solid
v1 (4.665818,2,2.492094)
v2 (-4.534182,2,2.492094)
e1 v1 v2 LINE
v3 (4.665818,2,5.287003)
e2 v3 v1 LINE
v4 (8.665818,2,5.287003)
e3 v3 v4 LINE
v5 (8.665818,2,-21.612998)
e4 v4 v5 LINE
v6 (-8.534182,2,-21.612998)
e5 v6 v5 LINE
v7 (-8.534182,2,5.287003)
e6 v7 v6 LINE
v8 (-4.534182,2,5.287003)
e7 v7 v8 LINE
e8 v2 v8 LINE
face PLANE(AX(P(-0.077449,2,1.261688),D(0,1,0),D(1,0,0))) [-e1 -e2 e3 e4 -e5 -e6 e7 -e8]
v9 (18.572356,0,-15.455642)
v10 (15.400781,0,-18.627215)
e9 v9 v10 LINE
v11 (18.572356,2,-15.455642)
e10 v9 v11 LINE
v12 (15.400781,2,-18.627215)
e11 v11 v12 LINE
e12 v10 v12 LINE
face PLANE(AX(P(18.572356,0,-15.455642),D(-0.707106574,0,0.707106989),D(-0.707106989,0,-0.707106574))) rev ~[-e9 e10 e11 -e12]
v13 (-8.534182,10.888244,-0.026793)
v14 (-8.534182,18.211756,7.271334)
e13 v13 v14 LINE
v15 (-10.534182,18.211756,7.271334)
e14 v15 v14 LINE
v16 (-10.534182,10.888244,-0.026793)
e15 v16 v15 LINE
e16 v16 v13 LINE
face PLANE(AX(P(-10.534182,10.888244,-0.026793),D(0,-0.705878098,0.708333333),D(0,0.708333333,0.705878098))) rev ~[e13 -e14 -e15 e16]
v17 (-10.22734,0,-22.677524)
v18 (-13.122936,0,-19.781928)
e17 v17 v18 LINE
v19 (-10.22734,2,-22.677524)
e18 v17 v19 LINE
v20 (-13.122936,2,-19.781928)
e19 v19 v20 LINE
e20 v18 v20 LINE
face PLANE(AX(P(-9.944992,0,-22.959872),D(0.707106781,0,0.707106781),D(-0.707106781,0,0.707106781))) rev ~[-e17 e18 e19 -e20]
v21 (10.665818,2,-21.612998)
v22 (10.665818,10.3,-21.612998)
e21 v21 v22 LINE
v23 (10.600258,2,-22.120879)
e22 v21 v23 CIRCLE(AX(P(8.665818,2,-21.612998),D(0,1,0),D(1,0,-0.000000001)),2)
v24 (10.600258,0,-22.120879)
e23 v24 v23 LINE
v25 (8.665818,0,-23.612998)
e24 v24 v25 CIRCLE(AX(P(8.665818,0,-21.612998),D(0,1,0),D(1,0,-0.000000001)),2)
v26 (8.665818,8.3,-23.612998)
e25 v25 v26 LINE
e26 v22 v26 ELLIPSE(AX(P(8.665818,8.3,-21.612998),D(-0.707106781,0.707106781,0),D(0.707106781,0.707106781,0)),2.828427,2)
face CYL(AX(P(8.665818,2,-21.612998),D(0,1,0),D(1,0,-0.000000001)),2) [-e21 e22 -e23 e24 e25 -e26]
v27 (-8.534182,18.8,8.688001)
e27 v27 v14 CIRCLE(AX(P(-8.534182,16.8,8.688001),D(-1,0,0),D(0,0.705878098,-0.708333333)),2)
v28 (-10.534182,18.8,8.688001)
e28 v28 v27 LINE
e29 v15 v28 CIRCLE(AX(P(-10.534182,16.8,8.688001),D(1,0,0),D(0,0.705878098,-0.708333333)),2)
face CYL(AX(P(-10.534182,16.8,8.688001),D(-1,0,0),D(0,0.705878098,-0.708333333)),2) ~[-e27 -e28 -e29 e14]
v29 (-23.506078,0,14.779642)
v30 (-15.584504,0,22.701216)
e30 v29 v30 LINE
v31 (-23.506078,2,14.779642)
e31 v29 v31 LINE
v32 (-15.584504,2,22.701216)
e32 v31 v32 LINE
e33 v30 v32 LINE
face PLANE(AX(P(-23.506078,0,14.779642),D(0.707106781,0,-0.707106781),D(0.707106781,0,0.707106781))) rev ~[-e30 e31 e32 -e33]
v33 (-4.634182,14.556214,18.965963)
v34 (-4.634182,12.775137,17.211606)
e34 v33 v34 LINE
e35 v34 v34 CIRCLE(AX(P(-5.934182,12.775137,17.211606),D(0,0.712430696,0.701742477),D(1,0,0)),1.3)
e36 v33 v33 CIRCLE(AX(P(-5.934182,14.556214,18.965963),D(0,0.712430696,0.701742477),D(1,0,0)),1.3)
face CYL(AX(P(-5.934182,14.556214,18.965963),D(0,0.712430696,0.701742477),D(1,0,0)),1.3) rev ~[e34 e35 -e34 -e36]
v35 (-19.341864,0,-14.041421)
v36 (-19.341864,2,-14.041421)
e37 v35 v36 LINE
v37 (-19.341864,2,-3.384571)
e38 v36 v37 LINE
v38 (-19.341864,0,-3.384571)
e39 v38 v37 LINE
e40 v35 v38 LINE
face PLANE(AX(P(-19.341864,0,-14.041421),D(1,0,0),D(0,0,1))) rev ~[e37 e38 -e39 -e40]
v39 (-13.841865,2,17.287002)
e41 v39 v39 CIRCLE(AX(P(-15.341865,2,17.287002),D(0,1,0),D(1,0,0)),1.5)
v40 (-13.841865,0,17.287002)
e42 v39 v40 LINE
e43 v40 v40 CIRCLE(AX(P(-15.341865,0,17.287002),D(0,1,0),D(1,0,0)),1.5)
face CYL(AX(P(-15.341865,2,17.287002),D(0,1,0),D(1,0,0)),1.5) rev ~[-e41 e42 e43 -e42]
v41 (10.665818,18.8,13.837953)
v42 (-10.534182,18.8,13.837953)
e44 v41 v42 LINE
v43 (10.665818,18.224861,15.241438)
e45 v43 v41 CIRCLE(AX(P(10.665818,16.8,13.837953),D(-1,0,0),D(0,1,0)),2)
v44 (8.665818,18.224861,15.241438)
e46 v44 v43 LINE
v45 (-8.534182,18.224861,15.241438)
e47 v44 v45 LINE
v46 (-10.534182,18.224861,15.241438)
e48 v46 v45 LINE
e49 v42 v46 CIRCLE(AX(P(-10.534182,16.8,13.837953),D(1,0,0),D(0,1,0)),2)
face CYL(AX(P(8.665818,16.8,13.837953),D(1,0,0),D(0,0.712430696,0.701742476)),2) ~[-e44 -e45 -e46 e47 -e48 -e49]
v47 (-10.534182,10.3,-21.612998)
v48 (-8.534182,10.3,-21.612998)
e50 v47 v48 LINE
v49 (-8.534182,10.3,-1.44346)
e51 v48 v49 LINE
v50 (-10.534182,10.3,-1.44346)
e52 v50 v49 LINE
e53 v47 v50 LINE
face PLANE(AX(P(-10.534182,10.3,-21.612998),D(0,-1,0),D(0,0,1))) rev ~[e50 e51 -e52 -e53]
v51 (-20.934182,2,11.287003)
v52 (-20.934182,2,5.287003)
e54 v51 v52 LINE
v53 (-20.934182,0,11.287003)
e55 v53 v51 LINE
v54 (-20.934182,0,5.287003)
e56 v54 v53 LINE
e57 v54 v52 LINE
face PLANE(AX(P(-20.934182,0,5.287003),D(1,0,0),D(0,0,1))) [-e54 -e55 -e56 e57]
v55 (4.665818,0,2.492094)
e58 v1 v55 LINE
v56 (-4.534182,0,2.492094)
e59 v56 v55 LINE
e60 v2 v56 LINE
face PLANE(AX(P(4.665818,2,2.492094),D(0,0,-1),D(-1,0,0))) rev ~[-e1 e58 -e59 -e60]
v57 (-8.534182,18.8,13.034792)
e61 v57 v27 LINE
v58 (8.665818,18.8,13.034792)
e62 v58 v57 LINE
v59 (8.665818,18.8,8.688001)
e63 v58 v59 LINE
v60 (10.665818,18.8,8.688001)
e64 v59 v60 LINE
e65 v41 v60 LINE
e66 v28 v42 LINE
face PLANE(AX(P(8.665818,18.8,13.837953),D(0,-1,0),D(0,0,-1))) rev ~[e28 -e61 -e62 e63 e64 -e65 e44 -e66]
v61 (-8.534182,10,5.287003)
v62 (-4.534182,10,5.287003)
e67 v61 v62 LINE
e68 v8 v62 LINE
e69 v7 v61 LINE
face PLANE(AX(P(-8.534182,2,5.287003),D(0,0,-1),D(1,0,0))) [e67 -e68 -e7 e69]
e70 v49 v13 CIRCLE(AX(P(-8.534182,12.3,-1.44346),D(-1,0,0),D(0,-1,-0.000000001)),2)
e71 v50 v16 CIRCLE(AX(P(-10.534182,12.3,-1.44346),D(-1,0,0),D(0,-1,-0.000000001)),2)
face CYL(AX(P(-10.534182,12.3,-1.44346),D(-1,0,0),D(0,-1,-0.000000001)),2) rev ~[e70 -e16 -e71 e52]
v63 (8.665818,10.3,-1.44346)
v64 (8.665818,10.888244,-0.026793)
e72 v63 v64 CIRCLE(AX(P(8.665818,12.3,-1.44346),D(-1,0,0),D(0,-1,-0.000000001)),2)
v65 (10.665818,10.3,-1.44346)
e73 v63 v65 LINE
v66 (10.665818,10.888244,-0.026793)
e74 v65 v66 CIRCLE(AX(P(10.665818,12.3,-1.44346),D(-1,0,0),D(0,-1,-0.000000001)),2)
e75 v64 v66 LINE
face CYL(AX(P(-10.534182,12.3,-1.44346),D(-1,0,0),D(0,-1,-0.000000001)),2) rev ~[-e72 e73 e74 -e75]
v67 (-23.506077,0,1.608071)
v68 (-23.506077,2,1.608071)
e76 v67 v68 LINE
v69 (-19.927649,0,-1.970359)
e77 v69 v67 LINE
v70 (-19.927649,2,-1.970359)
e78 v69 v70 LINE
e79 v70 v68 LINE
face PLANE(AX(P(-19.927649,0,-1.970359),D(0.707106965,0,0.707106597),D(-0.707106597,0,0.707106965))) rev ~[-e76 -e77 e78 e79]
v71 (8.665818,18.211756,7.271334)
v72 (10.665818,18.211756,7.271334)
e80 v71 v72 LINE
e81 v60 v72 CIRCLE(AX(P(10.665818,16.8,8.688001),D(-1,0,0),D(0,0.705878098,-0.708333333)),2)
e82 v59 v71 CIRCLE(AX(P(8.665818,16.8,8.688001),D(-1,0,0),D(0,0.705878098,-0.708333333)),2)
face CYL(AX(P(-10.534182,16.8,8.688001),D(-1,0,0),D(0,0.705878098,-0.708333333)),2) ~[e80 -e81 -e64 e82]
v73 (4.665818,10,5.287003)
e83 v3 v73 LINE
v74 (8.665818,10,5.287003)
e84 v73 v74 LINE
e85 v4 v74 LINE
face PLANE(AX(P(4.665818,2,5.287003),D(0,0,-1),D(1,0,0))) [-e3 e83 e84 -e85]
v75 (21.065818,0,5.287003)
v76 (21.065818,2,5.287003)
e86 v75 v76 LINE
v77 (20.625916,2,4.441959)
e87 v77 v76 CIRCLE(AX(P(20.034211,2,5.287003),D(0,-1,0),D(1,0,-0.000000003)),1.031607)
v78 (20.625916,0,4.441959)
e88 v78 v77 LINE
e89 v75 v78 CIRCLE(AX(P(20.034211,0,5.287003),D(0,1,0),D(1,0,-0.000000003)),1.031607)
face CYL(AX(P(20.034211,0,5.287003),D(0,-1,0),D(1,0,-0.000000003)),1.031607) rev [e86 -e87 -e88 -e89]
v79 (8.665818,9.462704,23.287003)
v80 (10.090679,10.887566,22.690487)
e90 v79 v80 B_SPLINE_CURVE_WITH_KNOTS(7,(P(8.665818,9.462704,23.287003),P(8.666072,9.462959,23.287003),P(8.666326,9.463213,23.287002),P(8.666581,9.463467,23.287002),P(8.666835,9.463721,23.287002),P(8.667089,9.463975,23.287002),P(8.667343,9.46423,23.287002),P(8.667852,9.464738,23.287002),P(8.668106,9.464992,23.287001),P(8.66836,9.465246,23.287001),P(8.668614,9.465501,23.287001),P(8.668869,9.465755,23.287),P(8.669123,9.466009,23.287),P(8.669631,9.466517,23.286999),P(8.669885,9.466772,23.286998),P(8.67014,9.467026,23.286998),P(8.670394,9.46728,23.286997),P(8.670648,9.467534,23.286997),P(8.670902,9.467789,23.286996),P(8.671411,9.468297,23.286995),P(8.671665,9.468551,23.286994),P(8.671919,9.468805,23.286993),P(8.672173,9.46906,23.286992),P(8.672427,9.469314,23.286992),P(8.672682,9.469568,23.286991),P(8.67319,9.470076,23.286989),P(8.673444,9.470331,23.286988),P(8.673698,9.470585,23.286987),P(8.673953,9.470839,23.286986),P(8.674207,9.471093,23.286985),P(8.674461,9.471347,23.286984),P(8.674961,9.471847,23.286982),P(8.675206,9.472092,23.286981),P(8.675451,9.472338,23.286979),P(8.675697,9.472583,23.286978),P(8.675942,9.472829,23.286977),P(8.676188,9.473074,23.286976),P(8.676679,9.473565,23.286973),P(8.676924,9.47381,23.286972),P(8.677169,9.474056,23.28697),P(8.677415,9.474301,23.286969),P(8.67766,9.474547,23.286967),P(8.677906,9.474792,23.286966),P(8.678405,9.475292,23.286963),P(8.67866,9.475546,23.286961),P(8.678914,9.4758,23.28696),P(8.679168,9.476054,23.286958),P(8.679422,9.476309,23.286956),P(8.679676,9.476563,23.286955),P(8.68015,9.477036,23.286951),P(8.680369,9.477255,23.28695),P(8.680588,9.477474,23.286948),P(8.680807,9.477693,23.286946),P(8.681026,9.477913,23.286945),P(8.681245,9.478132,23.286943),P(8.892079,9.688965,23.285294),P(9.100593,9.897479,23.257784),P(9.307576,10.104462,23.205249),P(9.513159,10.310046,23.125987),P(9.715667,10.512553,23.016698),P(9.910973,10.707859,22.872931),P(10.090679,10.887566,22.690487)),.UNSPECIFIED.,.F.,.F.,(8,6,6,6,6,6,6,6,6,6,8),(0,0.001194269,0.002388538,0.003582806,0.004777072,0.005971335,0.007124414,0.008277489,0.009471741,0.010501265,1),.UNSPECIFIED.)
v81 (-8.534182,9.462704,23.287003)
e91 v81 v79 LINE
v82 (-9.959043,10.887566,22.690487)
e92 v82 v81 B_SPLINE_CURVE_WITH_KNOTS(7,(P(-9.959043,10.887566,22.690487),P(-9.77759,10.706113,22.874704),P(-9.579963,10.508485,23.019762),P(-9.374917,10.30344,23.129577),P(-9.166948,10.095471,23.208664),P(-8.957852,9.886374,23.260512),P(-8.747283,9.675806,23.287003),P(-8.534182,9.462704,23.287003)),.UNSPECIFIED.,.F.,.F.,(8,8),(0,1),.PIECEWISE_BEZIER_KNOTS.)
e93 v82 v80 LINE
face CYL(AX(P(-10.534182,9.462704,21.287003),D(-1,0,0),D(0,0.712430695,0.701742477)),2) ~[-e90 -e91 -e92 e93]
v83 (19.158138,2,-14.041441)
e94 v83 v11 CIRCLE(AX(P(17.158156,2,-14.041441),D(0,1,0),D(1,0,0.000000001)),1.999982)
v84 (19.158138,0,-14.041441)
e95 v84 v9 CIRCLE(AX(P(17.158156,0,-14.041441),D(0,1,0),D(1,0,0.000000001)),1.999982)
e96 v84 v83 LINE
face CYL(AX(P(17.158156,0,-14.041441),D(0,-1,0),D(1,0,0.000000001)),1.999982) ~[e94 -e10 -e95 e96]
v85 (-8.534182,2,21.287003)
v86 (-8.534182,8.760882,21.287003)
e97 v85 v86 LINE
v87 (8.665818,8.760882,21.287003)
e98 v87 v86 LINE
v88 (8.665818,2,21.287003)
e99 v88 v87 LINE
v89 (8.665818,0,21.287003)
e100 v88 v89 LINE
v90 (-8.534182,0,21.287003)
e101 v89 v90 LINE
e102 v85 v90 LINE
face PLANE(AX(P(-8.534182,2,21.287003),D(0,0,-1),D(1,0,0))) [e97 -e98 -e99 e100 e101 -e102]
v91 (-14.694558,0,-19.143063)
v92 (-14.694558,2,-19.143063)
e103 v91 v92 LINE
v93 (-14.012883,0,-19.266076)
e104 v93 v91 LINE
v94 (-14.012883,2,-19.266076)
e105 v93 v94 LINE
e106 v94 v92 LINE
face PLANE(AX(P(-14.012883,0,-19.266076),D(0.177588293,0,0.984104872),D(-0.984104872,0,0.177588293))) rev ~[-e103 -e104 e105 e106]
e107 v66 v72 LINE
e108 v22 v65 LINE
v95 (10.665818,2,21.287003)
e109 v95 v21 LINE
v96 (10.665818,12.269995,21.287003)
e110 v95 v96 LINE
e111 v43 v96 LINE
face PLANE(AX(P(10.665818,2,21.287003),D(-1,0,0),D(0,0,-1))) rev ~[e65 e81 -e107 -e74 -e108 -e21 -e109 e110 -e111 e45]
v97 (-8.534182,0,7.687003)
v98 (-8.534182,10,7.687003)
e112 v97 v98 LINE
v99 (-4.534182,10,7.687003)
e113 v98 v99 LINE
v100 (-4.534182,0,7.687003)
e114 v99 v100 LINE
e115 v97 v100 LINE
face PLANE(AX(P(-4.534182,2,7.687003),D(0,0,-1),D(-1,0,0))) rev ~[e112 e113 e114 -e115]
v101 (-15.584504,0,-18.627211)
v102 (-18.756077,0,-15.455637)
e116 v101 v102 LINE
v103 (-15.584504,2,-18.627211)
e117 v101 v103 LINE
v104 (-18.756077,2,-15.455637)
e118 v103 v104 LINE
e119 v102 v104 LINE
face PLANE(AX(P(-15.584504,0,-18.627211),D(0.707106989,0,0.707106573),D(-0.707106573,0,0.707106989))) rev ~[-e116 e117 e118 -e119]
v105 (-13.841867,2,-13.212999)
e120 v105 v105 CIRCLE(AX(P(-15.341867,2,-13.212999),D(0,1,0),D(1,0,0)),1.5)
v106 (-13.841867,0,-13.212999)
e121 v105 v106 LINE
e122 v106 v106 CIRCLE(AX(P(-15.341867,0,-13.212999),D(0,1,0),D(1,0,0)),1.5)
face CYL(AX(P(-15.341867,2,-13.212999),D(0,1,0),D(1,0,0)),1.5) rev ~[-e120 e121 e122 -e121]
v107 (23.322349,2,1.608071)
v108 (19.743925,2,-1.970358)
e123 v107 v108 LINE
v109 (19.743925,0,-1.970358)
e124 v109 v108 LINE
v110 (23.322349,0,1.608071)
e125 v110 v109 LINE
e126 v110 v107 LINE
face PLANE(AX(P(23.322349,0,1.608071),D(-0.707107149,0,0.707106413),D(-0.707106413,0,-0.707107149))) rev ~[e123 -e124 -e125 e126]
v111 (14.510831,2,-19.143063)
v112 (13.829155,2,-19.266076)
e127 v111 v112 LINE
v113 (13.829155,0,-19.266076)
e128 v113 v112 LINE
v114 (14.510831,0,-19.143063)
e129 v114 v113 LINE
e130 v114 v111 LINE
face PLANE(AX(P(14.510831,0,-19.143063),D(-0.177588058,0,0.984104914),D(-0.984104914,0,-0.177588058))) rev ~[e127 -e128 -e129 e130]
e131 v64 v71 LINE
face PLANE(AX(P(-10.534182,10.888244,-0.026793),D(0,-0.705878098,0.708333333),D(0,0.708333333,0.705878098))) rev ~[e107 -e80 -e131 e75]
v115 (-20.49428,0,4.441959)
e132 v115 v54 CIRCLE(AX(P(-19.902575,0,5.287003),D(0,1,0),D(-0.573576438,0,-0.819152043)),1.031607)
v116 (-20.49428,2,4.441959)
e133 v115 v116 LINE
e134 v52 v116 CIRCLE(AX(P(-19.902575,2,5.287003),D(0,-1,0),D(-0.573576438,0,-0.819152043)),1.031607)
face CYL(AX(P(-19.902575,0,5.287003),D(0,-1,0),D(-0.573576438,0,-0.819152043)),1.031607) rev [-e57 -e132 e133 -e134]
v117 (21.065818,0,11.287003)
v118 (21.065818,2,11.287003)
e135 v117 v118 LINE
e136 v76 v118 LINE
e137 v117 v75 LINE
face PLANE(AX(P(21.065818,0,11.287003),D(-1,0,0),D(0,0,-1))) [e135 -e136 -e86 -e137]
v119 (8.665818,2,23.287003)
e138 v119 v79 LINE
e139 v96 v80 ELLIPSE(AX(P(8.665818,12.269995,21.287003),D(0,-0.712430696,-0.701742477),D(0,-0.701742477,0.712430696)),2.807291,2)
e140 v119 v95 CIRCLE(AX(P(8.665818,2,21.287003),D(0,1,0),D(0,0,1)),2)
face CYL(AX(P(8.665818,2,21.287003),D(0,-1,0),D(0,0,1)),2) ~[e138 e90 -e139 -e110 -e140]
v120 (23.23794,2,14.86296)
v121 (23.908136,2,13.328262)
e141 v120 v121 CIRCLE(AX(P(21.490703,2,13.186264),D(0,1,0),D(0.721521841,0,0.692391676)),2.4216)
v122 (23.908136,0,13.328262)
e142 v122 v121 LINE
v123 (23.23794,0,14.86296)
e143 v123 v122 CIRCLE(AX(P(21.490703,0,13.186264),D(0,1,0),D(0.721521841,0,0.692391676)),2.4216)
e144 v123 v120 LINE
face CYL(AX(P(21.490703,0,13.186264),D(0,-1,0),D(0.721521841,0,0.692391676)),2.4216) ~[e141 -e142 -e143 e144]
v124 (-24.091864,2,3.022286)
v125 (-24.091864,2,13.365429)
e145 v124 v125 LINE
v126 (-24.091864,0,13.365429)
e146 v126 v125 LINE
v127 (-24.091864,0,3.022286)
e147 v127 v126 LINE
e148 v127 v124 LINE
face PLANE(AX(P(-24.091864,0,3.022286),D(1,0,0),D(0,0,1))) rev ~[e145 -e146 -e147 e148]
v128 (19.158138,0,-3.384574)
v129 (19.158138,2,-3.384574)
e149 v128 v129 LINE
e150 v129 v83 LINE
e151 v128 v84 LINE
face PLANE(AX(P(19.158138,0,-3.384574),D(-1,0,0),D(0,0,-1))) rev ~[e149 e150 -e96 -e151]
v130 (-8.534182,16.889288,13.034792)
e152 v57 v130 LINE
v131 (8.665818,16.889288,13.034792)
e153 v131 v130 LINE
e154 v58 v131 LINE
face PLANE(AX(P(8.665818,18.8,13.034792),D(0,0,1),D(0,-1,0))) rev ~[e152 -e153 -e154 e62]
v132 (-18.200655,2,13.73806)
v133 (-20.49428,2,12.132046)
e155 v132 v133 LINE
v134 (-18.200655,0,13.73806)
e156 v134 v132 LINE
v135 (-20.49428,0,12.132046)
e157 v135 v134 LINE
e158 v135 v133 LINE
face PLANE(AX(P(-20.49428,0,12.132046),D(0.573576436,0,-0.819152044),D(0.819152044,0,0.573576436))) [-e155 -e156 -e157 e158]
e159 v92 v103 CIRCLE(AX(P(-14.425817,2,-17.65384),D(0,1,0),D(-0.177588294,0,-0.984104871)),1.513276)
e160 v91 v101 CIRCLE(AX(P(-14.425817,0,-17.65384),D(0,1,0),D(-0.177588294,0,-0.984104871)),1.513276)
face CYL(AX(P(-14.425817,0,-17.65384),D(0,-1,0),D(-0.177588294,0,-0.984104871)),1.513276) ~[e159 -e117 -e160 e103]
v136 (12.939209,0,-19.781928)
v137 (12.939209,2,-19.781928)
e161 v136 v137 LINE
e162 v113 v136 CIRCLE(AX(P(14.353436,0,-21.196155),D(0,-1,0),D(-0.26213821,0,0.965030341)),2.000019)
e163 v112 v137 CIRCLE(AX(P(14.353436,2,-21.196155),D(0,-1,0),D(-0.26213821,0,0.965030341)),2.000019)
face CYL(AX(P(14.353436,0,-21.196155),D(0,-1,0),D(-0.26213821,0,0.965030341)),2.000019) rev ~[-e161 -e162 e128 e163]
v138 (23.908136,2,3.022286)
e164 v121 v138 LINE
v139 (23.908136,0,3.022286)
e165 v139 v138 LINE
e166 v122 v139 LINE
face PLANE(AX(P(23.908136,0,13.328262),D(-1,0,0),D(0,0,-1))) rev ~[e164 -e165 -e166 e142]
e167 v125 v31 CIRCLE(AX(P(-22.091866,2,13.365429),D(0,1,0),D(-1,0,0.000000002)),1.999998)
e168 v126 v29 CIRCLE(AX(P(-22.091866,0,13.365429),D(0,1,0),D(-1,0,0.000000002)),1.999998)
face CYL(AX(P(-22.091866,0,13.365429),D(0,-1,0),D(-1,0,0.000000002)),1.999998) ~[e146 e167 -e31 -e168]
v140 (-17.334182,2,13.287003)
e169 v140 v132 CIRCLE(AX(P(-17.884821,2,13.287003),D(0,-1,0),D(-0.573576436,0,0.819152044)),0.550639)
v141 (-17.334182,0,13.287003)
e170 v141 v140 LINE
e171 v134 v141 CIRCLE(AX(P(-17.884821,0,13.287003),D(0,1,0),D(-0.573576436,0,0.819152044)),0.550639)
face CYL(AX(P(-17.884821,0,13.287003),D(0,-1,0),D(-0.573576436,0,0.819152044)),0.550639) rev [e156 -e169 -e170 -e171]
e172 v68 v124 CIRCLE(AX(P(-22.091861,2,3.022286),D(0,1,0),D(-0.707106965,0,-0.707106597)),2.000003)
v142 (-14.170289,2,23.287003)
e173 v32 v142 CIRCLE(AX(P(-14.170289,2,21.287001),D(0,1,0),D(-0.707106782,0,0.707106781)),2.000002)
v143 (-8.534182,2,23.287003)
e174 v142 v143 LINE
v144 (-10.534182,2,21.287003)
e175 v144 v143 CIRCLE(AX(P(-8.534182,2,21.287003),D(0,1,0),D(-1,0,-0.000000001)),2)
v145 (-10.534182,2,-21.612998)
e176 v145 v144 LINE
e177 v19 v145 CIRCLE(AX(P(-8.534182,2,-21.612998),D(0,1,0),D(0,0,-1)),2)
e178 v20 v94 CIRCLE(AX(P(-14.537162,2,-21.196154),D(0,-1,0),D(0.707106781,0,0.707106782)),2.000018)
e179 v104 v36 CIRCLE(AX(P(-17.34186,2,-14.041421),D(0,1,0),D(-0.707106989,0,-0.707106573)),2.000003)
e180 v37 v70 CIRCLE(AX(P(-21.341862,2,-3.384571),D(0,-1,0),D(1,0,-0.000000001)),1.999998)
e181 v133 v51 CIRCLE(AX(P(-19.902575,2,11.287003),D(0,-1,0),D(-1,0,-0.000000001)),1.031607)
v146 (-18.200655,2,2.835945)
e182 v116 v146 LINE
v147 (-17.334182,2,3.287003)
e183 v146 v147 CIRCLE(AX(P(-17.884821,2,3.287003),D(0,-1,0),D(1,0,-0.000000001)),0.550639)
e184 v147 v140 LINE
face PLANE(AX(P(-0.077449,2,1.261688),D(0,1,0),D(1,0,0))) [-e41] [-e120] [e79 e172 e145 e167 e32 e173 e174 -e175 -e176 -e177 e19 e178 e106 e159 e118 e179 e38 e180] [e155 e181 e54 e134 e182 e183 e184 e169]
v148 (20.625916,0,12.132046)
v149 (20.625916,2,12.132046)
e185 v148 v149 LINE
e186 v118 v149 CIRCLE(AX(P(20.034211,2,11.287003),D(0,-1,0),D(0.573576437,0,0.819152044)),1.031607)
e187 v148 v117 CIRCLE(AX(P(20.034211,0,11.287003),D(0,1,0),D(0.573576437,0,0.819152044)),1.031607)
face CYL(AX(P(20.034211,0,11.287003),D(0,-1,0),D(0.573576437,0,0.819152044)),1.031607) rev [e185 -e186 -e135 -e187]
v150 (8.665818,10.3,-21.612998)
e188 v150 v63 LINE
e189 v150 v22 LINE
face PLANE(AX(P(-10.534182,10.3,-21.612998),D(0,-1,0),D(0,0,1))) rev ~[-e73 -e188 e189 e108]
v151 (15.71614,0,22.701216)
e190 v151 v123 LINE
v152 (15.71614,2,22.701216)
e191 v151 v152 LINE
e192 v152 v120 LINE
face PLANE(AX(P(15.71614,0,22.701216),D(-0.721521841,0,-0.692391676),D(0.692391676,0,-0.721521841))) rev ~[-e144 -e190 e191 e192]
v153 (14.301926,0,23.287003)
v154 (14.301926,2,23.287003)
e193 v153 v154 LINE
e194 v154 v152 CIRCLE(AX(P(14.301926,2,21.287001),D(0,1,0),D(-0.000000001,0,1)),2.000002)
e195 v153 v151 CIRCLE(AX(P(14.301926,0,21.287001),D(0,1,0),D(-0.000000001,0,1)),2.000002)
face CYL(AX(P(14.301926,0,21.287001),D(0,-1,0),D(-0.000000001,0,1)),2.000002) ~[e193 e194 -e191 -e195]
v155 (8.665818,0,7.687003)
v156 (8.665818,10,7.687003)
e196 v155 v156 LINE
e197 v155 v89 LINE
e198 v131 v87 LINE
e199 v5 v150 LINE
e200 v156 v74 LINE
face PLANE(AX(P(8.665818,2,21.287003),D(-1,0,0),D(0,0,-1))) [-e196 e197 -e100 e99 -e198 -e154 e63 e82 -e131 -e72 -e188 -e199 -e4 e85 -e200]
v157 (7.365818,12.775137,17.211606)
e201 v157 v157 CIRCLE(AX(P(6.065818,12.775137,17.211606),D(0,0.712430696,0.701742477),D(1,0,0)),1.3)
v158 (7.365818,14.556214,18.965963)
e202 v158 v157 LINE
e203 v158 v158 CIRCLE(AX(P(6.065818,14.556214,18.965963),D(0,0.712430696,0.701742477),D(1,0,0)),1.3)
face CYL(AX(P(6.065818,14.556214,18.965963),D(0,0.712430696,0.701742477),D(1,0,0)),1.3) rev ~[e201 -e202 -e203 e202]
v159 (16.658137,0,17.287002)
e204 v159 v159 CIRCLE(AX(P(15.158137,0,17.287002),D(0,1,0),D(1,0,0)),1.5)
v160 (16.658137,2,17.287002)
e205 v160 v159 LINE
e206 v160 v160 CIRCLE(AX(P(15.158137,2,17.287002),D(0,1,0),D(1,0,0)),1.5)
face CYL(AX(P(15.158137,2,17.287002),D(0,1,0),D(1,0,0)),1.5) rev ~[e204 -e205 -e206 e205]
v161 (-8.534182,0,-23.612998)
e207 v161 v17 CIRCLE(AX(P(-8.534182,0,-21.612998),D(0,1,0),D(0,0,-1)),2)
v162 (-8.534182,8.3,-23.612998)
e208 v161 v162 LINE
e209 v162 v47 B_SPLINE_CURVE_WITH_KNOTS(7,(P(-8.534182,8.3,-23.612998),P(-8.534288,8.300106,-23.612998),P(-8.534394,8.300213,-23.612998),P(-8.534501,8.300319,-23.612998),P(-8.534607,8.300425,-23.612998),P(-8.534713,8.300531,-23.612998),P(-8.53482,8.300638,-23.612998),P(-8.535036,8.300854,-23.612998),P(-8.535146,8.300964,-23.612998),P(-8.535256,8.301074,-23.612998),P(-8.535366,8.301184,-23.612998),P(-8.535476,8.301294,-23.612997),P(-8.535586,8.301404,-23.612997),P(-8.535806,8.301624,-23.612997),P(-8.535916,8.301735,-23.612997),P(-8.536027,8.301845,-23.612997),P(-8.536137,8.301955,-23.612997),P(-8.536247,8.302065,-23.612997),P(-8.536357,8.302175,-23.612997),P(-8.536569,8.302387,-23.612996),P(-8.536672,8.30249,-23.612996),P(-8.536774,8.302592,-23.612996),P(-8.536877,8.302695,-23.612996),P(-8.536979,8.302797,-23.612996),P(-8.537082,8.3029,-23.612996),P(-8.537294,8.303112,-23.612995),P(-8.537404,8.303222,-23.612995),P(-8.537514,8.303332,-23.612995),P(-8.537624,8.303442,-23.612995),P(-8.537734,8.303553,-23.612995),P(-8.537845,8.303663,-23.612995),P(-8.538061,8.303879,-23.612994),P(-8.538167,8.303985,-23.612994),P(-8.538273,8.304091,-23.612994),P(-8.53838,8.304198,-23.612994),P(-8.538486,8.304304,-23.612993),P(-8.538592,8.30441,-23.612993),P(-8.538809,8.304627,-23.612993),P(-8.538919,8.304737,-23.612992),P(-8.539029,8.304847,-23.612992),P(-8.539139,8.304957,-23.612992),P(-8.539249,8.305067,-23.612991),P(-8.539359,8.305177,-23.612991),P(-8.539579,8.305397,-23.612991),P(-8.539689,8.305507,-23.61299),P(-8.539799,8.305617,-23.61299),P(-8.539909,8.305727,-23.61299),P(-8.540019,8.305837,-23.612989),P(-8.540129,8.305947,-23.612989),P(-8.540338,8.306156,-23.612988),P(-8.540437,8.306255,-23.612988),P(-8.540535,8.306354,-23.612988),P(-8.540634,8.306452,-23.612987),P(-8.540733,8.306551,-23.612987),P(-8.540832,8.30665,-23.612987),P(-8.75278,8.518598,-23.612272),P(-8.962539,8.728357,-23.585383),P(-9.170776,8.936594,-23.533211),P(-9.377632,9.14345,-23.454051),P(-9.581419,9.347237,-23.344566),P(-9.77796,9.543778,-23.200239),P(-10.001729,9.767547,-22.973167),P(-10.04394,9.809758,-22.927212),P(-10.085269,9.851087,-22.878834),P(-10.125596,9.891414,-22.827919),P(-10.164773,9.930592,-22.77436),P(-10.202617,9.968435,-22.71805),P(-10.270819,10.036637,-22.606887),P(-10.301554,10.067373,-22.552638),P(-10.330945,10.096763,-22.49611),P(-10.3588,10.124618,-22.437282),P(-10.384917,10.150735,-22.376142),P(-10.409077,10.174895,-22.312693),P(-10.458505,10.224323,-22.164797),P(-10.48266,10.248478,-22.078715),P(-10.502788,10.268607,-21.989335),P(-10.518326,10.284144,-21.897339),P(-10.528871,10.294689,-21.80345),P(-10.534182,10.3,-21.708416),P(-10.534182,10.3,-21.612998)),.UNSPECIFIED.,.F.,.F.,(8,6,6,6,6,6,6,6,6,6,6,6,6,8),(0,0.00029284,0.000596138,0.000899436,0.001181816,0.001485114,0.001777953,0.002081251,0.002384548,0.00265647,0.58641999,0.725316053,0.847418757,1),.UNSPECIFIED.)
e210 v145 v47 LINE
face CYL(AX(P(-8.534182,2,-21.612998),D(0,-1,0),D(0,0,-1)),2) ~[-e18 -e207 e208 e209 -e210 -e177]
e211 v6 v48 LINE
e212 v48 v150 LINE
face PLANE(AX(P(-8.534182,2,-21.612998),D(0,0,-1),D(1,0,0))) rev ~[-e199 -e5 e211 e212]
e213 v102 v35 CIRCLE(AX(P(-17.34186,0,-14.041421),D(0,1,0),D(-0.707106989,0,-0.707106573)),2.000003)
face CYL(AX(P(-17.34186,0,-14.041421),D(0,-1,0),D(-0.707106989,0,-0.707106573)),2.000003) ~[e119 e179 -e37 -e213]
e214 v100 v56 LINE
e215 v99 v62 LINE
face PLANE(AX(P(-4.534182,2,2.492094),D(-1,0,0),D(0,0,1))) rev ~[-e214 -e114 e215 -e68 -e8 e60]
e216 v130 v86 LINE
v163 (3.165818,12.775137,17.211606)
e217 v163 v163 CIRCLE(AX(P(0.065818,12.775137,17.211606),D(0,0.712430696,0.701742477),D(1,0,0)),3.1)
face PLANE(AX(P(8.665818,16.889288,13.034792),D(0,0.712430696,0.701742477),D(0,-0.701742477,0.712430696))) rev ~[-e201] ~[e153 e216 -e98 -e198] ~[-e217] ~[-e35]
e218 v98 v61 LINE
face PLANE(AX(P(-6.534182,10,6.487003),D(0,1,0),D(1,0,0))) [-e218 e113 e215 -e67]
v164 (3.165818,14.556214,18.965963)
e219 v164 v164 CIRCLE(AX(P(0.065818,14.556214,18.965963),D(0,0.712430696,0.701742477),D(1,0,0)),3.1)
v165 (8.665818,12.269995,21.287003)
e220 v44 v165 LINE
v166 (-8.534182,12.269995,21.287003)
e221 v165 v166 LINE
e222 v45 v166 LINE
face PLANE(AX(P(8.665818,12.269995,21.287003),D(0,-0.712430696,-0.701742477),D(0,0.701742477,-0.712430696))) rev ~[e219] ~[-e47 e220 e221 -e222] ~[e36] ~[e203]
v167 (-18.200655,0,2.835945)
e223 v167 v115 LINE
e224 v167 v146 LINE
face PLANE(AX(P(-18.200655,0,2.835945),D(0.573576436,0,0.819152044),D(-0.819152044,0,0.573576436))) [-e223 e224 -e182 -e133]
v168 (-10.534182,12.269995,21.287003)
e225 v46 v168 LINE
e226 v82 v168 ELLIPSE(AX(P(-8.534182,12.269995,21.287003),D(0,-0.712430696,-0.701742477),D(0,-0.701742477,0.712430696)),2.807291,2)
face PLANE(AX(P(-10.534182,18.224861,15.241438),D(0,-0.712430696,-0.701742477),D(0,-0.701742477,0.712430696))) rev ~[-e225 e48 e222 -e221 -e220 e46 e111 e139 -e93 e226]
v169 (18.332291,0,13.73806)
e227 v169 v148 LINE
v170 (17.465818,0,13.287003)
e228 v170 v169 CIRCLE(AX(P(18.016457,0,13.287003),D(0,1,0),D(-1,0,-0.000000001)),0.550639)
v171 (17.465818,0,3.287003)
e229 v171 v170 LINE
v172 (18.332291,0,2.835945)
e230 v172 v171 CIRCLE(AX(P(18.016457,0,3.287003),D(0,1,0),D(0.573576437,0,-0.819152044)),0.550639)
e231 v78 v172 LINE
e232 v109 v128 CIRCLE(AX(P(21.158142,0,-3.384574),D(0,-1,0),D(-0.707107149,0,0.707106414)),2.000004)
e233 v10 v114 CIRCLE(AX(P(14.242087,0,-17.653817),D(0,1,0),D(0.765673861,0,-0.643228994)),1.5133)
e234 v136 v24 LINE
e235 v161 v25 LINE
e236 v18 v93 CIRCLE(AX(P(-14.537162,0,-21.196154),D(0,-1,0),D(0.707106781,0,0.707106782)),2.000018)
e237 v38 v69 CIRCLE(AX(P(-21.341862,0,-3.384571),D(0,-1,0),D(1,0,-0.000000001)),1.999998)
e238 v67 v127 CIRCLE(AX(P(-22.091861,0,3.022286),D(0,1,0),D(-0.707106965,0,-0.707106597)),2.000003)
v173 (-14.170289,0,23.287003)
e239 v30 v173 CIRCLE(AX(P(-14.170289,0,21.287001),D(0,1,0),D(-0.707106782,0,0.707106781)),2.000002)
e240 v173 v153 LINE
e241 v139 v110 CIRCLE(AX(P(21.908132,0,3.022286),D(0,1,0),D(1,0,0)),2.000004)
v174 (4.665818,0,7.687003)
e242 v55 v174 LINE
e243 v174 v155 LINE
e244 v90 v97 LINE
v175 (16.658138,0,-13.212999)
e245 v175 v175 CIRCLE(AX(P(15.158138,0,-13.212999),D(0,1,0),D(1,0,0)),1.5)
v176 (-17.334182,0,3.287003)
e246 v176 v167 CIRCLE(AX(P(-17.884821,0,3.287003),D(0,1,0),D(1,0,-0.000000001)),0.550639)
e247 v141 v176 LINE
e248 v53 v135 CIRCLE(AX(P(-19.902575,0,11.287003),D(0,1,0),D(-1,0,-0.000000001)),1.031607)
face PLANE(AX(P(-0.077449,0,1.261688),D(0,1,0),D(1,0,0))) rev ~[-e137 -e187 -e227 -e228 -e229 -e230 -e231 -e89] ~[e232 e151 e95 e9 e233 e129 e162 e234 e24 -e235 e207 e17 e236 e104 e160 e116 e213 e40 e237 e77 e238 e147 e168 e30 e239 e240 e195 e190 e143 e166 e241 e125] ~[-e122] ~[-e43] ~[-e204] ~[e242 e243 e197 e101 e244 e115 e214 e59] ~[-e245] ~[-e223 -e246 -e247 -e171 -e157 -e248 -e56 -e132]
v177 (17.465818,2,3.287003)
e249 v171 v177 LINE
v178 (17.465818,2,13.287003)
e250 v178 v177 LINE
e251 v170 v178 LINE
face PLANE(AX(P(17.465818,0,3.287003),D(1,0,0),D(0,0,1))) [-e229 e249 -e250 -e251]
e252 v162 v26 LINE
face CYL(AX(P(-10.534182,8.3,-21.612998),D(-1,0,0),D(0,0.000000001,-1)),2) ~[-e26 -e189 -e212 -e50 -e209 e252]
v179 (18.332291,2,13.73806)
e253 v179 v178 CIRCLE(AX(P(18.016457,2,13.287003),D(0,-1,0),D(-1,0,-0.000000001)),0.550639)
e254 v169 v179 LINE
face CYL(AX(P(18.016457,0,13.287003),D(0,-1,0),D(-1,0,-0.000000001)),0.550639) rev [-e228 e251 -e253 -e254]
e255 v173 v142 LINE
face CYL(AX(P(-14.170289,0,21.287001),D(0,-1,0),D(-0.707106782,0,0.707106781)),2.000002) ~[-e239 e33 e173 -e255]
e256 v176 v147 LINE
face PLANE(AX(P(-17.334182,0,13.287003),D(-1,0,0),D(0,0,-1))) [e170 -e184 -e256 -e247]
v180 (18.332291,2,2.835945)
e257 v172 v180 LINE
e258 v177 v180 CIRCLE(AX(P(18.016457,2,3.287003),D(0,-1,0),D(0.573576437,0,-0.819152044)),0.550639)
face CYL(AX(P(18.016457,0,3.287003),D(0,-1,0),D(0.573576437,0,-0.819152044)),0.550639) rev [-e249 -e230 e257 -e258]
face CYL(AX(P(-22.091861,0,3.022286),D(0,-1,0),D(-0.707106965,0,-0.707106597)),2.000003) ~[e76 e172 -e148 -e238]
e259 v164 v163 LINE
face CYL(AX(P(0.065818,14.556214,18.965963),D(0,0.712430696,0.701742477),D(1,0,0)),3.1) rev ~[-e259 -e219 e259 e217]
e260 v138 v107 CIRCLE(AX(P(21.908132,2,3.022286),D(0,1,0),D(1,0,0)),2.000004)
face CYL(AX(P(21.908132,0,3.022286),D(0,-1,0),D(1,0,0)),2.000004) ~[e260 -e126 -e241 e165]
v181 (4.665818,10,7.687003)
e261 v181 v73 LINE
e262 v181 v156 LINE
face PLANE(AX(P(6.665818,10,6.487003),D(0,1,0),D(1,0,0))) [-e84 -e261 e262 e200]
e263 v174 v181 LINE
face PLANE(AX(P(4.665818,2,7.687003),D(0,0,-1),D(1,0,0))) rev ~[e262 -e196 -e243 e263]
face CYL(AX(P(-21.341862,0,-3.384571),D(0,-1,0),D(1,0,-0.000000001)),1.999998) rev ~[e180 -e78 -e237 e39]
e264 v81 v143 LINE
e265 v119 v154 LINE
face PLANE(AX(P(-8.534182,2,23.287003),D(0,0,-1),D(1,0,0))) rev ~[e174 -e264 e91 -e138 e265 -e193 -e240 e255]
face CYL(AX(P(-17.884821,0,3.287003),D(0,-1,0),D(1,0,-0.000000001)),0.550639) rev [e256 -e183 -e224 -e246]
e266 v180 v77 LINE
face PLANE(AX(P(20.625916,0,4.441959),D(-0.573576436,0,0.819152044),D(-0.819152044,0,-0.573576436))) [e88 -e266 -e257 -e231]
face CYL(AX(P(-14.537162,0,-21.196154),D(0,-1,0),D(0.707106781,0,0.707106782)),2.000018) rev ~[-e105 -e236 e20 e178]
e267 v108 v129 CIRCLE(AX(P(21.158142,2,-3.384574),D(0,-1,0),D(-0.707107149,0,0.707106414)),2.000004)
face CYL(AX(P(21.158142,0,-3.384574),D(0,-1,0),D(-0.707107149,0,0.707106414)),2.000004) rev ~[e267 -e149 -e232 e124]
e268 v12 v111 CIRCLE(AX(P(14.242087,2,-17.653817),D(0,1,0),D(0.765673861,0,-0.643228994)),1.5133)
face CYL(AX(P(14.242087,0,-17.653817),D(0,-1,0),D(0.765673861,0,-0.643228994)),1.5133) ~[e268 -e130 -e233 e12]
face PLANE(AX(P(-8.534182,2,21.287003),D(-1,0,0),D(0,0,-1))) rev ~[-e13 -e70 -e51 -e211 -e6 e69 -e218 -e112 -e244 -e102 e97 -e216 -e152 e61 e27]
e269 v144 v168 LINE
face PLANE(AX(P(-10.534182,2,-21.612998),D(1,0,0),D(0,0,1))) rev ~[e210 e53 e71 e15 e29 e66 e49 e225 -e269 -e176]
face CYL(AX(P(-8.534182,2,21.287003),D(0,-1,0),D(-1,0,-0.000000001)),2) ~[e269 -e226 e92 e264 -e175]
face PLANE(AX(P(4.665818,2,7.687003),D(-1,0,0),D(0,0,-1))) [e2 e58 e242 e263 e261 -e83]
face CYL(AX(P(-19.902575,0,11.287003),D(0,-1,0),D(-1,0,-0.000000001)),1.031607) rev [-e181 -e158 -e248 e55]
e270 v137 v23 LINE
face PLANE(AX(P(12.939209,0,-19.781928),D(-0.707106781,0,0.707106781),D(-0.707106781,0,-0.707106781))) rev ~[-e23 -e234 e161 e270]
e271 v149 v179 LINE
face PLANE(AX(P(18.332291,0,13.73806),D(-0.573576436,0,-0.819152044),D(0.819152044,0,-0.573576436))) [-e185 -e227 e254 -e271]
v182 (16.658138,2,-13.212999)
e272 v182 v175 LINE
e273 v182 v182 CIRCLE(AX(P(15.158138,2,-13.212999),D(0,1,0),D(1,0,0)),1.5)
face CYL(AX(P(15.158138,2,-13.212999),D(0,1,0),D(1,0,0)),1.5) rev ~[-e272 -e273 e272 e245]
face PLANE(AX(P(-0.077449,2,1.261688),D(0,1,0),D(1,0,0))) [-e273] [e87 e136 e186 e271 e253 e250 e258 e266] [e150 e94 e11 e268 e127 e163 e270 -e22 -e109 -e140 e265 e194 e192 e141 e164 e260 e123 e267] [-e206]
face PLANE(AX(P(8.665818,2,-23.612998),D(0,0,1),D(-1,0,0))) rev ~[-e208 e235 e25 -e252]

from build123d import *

# Parameters (mm, degrees)
BOSS_EXTRUDE1_DEPTH      = 2
SKETCH2_R                = 1.500000246
SKETCH2_R_2              = 1.5
CUT_EXTRUDE1_DEPTH       = 3
CUT_EXTRUDE3_DEPTH       = 3
SKETCH4_W                = 17.2
SKETCH4_H                = 42.900000423
BOSS_EXTRUDE2_DEPTH      = 16.8
BOSS_EXTRUDE2_DEPTH_BACK = 2
CUT_EXTRUDE4_DEPTH       = 35.442318281
BOSS_EXTRUDE3_REACH      = 34.758
CUT_EXTRUDE5_REACH       = 42.25
SKETCH7_R                = 3.1
SKETCH7_R_2              = 1.3
CUT_EXTRUDE6_REACH       = 4
SKETCH10_W               = 4
SKETCH10_H               = 2.4
BOSS_EXTRUDE4_DEPTH      = 8


with BuildPart() as part:
    # Sketch1 → Boss-Extrude1 (new body)
    with BuildSketch(Plane(origin=(0, 0, 0), x_dir=(1, 0, 0), z_dir=(0, 1, 0))):
        with BuildLine():
            Line((18.572356392, 15.455642083), (15.400781136, 18.627215476))
            ThreePointArc((15.400781136, 18.627215476), (15.000980559, 18.963075341), (14.510830812, 19.14306305))
            Line((14.510830812, 19.14306305), (13.829154841, 19.266075861))
            ThreePointArc((13.829154841, 19.266075861), (13.350450837, 19.465809152), (12.939209066, 19.781927984))
            Line((12.939209066, 19.781927984), (9.538270081, 23.182866969))
            ThreePointArc((9.538270081, 23.182866969), (9.061835297, 23.501210514), (8.499842151, 23.612997901))
            Line((8.499842151, 23.612997901), (-8.368205994, 23.612997901))
            ThreePointArc((-8.368205994, 23.612997901), (-9.221556491, 23.443255933), (-9.94499211, 22.959871707))
            Line((-9.94499211, 22.959871707), (-13.122935832, 19.781927984))
            ThreePointArc((-13.122935832, 19.781927984), (-13.53417801, 19.465808988), (-14.012882539, 19.266075861))
            Line((-14.012882539, 19.266075861), (-14.694557578, 19.14306305))
            ThreePointArc((-14.694557578, 19.14306305), (-15.184706626, 18.963073976), (-15.584504285, 18.627210927))
            Line((-15.584504285, 18.627210927), (-18.756076746, 15.455636602))
            ThreePointArc((-18.756076746, 15.455636602), (-19.189622668, 14.806788967), (-19.341863745, 14.041421099))
            Line((-19.341863745, 14.041421099), (-19.341863745, 3.384570997))
            ThreePointArc((-19.341863745, 3.384570997), (-19.494104434, 2.619205106), (-19.927649253, 1.970359158))
            Line((-19.927649253, 1.970359158), (-23.506077059, -1.608070511))
            ThreePointArc((-23.506077059, -1.608070511), (-23.939622981, -2.25691811), (-24.091864058, -3.022285948))
            Line((-24.091864058, -3.022285948), (-24.091864058, -13.36542942))
            ThreePointArc((-24.091864058, -13.36542942), (-23.939623268, -14.130795551), (-23.506078181, -14.779641628))
            Line((-23.506078181, -14.779641628), (-15.584504285, -22.701215524))
            ThreePointArc((-15.584504285, -22.701215524), (-14.935656966, -23.134761442), (-14.170289369, -23.287002522))
            Line((-14.170289369, -23.287002522), (14.301925526, -23.287002522))
            ThreePointArc((14.301925526, -23.287002522), (15.067293123, -23.134761442), (15.716140442, -22.701215524))
            Line((15.716140442, -22.701215524), (23.23794041, -14.862959876))
            ThreePointArc((23.23794041, -14.862959876), (23.709924747, -14.155388537), (23.90813636, -13.32826184))
            Line((23.90813636, -13.32826184), (23.90813636, -3.022286468))
            ThreePointArc((23.90813636, -3.022286468), (23.755895287, -2.25691839), (23.322349361, -1.608070511))
            Line((23.322349361, -1.608070511), (19.743924908, 1.970357668))
            ThreePointArc((19.743924908, 1.970357668), (19.310378982, 2.619205547), (19.158137909, 3.384573625))
            Line((19.158137909, 3.384573625), (19.158137909, 14.041440986))
            ThreePointArc((19.158137909, 14.041440986), (19.005898249, 14.806801151), (18.572356392, 15.455642083))
        make_face()
    extrude(amount=BOSS_EXTRUDE1_DEPTH)

    # Sketch2 → Cut-Extrude1 (cut, through all)
    with BuildSketch(Plane(origin=(0, 2, 0), x_dir=(1, 0, 0), z_dir=(0, 1, 0))):
        with Locations((-15.341864952, -17.28700247)):
            Circle(SKETCH2_R)
        with Locations((15.158137254, -17.28700247)):
            Circle(SKETCH2_R)
        with Locations((15.158137909, 13.212998804)):
            Circle(SKETCH2_R_2)
        with Locations((-15.341866539, 13.212998804)):
            Circle(SKETCH2_R_2)
    extrude(amount=-CUT_EXTRUDE1_DEPTH, mode=Mode.SUBTRACT)

    # Sketch3 → Cut-Extrude3 (cut, through all)
    with BuildSketch(Plane.XZ):
        with BuildLine():
            Line((18.332290758, 13.738059649), (20.625916482, 12.132045627))
            ThreePointArc((20.625916482, 12.132045627), (20.949257646, 11.763345693), (21.065818079, 11.287002522))
            Line((21.065818079, 11.287002522), (21.065818079, 5.287002522))
            ThreePointArc((21.065818079, 5.287002522), (20.949257646, 4.810659352), (20.625916482, 4.441959417))
            Line((20.625916482, 4.441959417), (18.332290758, 2.835945395))
            ThreePointArc((18.332290758, 2.835945395), (17.762200326, 2.798579694), (17.465818079, 3.287002522))
            Line((17.465818079, 3.287002522), (17.465818079, 13.287002522))
            ThreePointArc((17.465818079, 13.287002522), (17.762200326, 13.77542535), (18.332290758, 13.738059649))
        make_face()
        with BuildLine():
            Line((-17.334181921, 13.287002522), (-17.334181921, 3.287002522))
            ThreePointArc((-17.334181921, 3.287002522), (-17.630564169, 2.798579694), (-18.200654601, 2.835945395))
            Line((-18.200654601, 2.835945395), (-20.494280325, 4.441959417))
            ThreePointArc((-20.494280325, 4.441959417), (-20.817621489, 4.810659352), (-20.934181921, 5.287002522))
            Line((-20.934181921, 5.287002522), (-20.934181921, 11.287002522))
            ThreePointArc((-20.934181921, 11.287002522), (-20.817621489, 11.763345693), (-20.494280325, 12.132045627))
            Line((-20.494280325, 12.132045627), (-18.200654601, 13.738059649))
            ThreePointArc((-18.200654601, 13.738059649), (-17.630564169, 13.77542535), (-17.334181921, 13.287002522))
        make_face()
    extrude(amount=-CUT_EXTRUDE3_DEPTH, mode=Mode.SUBTRACT)

    # Sketch4 → Boss-Extrude2 (add, two sides)
    with BuildSketch(Plane(origin=(0, 2, 0), x_dir=(1, 0, 0), z_dir=(0, 1, 0))) as boss_extrude2_sk:
        with BuildLine():
            Line((-8.534181921, -23.287002522), (8.665818079, -23.287002522))
            ThreePointArc((8.665818079, -23.287002522), (10.080031641, -22.701216085), (10.665818079, -21.287002522))
            Line((10.665818079, -21.287002522), (10.665818079, 21.612997901))
            ThreePointArc((10.665818079, 21.612997901), (10.080031641, 23.027211463), (8.665818079, 23.612997901))
            Line((8.665818079, 23.612997901), (-8.534181921, 23.612997901))
            ThreePointArc((-8.534181921, 23.612997901), (-9.948395484, 23.027211463), (-10.534181921, 21.612997901))
            Line((-10.534181921, 21.612997901), (-10.534181921, -21.287002522))
            ThreePointArc((-10.534181921, -21.287002522), (-9.948395484, -22.701216085), (-8.534181921, -23.287002522))
        make_face()
        with Locations((0.065818079, 0.162997689)):
            Rectangle(SKETCH4_W, SKETCH4_H, mode=Mode.SUBTRACT)
    extrude(amount=BOSS_EXTRUDE2_DEPTH)
    extrude(boss_extrude2_sk.sketch, amount=-BOSS_EXTRUDE2_DEPTH_BACK)

    # Sketch5 → Cut-Extrude4 (cut, through all)
    with BuildSketch(Plane.ZY.offset(10.534181921)):
        with BuildLine():
            Line((-21.612997901, 10.3), (-1.443459743, 10.3))
            ThreePointArc((-1.443459743, 10.3), (-0.676489206, 10.452906013), (-0.026793076, 10.888243804))
            Line((-0.026793076, 10.888243804), (7.271334447, 18.211756196))
            ThreePointArc((7.271334447, 18.211756196), (7.921030577, 18.647093987), (8.688001114, 18.8))
            Line((8.688001114, 18.8), (13.837952846, 18.8))
            ThreePointArc((13.837952846, 18.8), (14.596331781, 18.650638104), (15.2414378, 18.224861392))
            Line((15.2414378, 18.224861392), (22.690487476, 10.887565848))
            ThreePointArc((22.690487476, 10.887565848), (23.131856162, 10.235048322), (23.287002522, 9.462704457))
            Line((23.287002522, 9.462704457), (23.287002522, 6.883402598))
            Line((23.287002522, 6.883402598), (26.098263888, 6.883402598))
            Line((26.098263888, 6.883402598), (26.098263888, 23.771252442))
            Line((26.098263888, 23.771252442), (-26.157105029, 23.771252442))
            Line((-26.157105029, 23.771252442), (-26.157105029, 6.5400194))
            Line((-26.157105029, 6.5400194), (-23.612997901, 6.5400194))
            Line((-23.612997901, 6.5400194), (-23.612997901, 8.3))
            ThreePointArc((-23.612997901, 8.3), (-23.027211463, 9.714213562), (-21.612997901, 10.3))
        make_face()
    extrude(amount=-CUT_EXTRUDE4_DEPTH, mode=Mode.SUBTRACT)

    # Sketch6 → Boss-Extrude3 (add, up to next)
    with BuildSketch(Plane.ZY.offset(-8.665818079), mode=Mode.PRIVATE) as boss_extrude3_sk1:
        with BuildLine():
            Line((21.287002522, 12.269995063), (15.2414378, 18.224861392))
            ThreePointArc((15.2414378, 18.224861392), (14.596331781, 18.650638104), (13.837952846, 18.8))
            Line((13.837952846, 18.8), (13.034792435, 18.8))
            Line((13.034792435, 18.8), (13.034792435, 16.889288371))
            Line((13.034792435, 16.889288371), (21.313555812, 8.73472688))
            Line((21.313555812, 8.73472688), (23.287002522, 8.73472688))
            Line((23.287002522, 8.73472688), (23.287002522, 9.462704457))
            ThreePointArc((23.287002522, 9.462704457), (23.131856162, 10.235048322), (22.690487476, 10.887565848))
            Line((22.690487476, 10.887565848), (21.287002522, 12.269995063))
        make_face()
    boss_extrude3_tool1 = extrude(boss_extrude3_sk1.sketch, amount=BOSS_EXTRUDE3_REACH, mode=Mode.PRIVATE) - part.part
    add(boss_extrude3_tool1.solids().sort_by_distance((8.665818, 13.686528, 18.07587))[0])

    # Sketch7 → Cut-Extrude5 (cut, up to next)
    with BuildSketch(Plane(origin=(0, 16.870013343, 16.6169215), x_dir=(1, 0, 0), z_dir=(0, 0.712430696, 0.701742477)), mode=Mode.PRIVATE) as cut_extrude5_sk1:
        with Locations((0.065818079, -3.297220561)):
            Circle(SKETCH7_R)
    cut_extrude5_tool1 = extrude(cut_extrude5_sk1.sketch, amount=-CUT_EXTRUDE5_REACH, mode=Mode.PRIVATE) & part.part
    add(cut_extrude5_tool1.solids().sort_by_distance((0.065818, 14.556214, 18.965963))[0], mode=Mode.SUBTRACT)
    # Sketch7 → Cut-Extrude5 (cut, up to next)
    with BuildSketch(Plane(origin=(0, 16.870013343, 16.6169215), x_dir=(1, 0, 0), z_dir=(0, 0.712430696, 0.701742477)), mode=Mode.PRIVATE) as cut_extrude5_sk2:
        with Locations((6.065818079, -3.297220561)):
            Circle(SKETCH7_R_2)
    cut_extrude5_tool2 = extrude(cut_extrude5_sk2.sketch, amount=-CUT_EXTRUDE5_REACH, mode=Mode.PRIVATE) & part.part
    add(cut_extrude5_tool2.solids().sort_by_distance((6.065818, 14.556214, 18.965963))[0], mode=Mode.SUBTRACT)
    # Sketch7 → Cut-Extrude5 (cut, up to next)
    with BuildSketch(Plane(origin=(0, 16.870013343, 16.6169215), x_dir=(1, 0, 0), z_dir=(0, 0.712430696, 0.701742477)), mode=Mode.PRIVATE) as cut_extrude5_sk3:
        with Locations((-5.934181921, -3.297220561)):
            Circle(SKETCH7_R_2)
    cut_extrude5_tool3 = extrude(cut_extrude5_sk3.sketch, amount=-CUT_EXTRUDE5_REACH, mode=Mode.PRIVATE) & part.part
    add(cut_extrude5_tool3.solids().sort_by_distance((-5.934182, 14.556214, 18.965963))[0], mode=Mode.SUBTRACT)

    # Sketch9 → Cut-Extrude6 (cut, up to next)
    with BuildSketch(Plane(origin=(0, 2, 0), x_dir=(1, 0, 0), z_dir=(0, 1, 0)), mode=Mode.PRIVATE) as cut_extrude6_sk1:
        Polygon((-8.534181921, -21.287002522), (8.665818079, -21.287002522), (8.665818079, -7.687002522), (4.665818079, -7.687002522), (4.665818079, -2.492093964), (-4.534181921, -2.492093964), (-4.534181921, -7.687002522), (-8.534181921, -7.687002522), align=None)
    cut_extrude6_tool1 = extrude(cut_extrude6_sk1.sketch, amount=-CUT_EXTRUDE6_REACH, mode=Mode.PRIVATE) & part.part
    add(cut_extrude6_tool1.solids().sort_by_distance((0.065818, 2, 12.892707))[0], mode=Mode.SUBTRACT)

    # Sketch10 → Boss-Extrude4 (add)
    with BuildSketch(Plane(origin=(0, 2, 0), x_dir=(1, 0, 0), z_dir=(0, 1, 0))):
        with Locations((6.665818079, -6.487002522)):
            Rectangle(SKETCH10_W, SKETCH10_H)
        with Locations((-6.534181921, -6.487002522)):
            Rectangle(SKETCH10_W, SKETCH10_H)
    extrude(amount=BOSS_EXTRUDE4_DEPTH)


solid = part.part
